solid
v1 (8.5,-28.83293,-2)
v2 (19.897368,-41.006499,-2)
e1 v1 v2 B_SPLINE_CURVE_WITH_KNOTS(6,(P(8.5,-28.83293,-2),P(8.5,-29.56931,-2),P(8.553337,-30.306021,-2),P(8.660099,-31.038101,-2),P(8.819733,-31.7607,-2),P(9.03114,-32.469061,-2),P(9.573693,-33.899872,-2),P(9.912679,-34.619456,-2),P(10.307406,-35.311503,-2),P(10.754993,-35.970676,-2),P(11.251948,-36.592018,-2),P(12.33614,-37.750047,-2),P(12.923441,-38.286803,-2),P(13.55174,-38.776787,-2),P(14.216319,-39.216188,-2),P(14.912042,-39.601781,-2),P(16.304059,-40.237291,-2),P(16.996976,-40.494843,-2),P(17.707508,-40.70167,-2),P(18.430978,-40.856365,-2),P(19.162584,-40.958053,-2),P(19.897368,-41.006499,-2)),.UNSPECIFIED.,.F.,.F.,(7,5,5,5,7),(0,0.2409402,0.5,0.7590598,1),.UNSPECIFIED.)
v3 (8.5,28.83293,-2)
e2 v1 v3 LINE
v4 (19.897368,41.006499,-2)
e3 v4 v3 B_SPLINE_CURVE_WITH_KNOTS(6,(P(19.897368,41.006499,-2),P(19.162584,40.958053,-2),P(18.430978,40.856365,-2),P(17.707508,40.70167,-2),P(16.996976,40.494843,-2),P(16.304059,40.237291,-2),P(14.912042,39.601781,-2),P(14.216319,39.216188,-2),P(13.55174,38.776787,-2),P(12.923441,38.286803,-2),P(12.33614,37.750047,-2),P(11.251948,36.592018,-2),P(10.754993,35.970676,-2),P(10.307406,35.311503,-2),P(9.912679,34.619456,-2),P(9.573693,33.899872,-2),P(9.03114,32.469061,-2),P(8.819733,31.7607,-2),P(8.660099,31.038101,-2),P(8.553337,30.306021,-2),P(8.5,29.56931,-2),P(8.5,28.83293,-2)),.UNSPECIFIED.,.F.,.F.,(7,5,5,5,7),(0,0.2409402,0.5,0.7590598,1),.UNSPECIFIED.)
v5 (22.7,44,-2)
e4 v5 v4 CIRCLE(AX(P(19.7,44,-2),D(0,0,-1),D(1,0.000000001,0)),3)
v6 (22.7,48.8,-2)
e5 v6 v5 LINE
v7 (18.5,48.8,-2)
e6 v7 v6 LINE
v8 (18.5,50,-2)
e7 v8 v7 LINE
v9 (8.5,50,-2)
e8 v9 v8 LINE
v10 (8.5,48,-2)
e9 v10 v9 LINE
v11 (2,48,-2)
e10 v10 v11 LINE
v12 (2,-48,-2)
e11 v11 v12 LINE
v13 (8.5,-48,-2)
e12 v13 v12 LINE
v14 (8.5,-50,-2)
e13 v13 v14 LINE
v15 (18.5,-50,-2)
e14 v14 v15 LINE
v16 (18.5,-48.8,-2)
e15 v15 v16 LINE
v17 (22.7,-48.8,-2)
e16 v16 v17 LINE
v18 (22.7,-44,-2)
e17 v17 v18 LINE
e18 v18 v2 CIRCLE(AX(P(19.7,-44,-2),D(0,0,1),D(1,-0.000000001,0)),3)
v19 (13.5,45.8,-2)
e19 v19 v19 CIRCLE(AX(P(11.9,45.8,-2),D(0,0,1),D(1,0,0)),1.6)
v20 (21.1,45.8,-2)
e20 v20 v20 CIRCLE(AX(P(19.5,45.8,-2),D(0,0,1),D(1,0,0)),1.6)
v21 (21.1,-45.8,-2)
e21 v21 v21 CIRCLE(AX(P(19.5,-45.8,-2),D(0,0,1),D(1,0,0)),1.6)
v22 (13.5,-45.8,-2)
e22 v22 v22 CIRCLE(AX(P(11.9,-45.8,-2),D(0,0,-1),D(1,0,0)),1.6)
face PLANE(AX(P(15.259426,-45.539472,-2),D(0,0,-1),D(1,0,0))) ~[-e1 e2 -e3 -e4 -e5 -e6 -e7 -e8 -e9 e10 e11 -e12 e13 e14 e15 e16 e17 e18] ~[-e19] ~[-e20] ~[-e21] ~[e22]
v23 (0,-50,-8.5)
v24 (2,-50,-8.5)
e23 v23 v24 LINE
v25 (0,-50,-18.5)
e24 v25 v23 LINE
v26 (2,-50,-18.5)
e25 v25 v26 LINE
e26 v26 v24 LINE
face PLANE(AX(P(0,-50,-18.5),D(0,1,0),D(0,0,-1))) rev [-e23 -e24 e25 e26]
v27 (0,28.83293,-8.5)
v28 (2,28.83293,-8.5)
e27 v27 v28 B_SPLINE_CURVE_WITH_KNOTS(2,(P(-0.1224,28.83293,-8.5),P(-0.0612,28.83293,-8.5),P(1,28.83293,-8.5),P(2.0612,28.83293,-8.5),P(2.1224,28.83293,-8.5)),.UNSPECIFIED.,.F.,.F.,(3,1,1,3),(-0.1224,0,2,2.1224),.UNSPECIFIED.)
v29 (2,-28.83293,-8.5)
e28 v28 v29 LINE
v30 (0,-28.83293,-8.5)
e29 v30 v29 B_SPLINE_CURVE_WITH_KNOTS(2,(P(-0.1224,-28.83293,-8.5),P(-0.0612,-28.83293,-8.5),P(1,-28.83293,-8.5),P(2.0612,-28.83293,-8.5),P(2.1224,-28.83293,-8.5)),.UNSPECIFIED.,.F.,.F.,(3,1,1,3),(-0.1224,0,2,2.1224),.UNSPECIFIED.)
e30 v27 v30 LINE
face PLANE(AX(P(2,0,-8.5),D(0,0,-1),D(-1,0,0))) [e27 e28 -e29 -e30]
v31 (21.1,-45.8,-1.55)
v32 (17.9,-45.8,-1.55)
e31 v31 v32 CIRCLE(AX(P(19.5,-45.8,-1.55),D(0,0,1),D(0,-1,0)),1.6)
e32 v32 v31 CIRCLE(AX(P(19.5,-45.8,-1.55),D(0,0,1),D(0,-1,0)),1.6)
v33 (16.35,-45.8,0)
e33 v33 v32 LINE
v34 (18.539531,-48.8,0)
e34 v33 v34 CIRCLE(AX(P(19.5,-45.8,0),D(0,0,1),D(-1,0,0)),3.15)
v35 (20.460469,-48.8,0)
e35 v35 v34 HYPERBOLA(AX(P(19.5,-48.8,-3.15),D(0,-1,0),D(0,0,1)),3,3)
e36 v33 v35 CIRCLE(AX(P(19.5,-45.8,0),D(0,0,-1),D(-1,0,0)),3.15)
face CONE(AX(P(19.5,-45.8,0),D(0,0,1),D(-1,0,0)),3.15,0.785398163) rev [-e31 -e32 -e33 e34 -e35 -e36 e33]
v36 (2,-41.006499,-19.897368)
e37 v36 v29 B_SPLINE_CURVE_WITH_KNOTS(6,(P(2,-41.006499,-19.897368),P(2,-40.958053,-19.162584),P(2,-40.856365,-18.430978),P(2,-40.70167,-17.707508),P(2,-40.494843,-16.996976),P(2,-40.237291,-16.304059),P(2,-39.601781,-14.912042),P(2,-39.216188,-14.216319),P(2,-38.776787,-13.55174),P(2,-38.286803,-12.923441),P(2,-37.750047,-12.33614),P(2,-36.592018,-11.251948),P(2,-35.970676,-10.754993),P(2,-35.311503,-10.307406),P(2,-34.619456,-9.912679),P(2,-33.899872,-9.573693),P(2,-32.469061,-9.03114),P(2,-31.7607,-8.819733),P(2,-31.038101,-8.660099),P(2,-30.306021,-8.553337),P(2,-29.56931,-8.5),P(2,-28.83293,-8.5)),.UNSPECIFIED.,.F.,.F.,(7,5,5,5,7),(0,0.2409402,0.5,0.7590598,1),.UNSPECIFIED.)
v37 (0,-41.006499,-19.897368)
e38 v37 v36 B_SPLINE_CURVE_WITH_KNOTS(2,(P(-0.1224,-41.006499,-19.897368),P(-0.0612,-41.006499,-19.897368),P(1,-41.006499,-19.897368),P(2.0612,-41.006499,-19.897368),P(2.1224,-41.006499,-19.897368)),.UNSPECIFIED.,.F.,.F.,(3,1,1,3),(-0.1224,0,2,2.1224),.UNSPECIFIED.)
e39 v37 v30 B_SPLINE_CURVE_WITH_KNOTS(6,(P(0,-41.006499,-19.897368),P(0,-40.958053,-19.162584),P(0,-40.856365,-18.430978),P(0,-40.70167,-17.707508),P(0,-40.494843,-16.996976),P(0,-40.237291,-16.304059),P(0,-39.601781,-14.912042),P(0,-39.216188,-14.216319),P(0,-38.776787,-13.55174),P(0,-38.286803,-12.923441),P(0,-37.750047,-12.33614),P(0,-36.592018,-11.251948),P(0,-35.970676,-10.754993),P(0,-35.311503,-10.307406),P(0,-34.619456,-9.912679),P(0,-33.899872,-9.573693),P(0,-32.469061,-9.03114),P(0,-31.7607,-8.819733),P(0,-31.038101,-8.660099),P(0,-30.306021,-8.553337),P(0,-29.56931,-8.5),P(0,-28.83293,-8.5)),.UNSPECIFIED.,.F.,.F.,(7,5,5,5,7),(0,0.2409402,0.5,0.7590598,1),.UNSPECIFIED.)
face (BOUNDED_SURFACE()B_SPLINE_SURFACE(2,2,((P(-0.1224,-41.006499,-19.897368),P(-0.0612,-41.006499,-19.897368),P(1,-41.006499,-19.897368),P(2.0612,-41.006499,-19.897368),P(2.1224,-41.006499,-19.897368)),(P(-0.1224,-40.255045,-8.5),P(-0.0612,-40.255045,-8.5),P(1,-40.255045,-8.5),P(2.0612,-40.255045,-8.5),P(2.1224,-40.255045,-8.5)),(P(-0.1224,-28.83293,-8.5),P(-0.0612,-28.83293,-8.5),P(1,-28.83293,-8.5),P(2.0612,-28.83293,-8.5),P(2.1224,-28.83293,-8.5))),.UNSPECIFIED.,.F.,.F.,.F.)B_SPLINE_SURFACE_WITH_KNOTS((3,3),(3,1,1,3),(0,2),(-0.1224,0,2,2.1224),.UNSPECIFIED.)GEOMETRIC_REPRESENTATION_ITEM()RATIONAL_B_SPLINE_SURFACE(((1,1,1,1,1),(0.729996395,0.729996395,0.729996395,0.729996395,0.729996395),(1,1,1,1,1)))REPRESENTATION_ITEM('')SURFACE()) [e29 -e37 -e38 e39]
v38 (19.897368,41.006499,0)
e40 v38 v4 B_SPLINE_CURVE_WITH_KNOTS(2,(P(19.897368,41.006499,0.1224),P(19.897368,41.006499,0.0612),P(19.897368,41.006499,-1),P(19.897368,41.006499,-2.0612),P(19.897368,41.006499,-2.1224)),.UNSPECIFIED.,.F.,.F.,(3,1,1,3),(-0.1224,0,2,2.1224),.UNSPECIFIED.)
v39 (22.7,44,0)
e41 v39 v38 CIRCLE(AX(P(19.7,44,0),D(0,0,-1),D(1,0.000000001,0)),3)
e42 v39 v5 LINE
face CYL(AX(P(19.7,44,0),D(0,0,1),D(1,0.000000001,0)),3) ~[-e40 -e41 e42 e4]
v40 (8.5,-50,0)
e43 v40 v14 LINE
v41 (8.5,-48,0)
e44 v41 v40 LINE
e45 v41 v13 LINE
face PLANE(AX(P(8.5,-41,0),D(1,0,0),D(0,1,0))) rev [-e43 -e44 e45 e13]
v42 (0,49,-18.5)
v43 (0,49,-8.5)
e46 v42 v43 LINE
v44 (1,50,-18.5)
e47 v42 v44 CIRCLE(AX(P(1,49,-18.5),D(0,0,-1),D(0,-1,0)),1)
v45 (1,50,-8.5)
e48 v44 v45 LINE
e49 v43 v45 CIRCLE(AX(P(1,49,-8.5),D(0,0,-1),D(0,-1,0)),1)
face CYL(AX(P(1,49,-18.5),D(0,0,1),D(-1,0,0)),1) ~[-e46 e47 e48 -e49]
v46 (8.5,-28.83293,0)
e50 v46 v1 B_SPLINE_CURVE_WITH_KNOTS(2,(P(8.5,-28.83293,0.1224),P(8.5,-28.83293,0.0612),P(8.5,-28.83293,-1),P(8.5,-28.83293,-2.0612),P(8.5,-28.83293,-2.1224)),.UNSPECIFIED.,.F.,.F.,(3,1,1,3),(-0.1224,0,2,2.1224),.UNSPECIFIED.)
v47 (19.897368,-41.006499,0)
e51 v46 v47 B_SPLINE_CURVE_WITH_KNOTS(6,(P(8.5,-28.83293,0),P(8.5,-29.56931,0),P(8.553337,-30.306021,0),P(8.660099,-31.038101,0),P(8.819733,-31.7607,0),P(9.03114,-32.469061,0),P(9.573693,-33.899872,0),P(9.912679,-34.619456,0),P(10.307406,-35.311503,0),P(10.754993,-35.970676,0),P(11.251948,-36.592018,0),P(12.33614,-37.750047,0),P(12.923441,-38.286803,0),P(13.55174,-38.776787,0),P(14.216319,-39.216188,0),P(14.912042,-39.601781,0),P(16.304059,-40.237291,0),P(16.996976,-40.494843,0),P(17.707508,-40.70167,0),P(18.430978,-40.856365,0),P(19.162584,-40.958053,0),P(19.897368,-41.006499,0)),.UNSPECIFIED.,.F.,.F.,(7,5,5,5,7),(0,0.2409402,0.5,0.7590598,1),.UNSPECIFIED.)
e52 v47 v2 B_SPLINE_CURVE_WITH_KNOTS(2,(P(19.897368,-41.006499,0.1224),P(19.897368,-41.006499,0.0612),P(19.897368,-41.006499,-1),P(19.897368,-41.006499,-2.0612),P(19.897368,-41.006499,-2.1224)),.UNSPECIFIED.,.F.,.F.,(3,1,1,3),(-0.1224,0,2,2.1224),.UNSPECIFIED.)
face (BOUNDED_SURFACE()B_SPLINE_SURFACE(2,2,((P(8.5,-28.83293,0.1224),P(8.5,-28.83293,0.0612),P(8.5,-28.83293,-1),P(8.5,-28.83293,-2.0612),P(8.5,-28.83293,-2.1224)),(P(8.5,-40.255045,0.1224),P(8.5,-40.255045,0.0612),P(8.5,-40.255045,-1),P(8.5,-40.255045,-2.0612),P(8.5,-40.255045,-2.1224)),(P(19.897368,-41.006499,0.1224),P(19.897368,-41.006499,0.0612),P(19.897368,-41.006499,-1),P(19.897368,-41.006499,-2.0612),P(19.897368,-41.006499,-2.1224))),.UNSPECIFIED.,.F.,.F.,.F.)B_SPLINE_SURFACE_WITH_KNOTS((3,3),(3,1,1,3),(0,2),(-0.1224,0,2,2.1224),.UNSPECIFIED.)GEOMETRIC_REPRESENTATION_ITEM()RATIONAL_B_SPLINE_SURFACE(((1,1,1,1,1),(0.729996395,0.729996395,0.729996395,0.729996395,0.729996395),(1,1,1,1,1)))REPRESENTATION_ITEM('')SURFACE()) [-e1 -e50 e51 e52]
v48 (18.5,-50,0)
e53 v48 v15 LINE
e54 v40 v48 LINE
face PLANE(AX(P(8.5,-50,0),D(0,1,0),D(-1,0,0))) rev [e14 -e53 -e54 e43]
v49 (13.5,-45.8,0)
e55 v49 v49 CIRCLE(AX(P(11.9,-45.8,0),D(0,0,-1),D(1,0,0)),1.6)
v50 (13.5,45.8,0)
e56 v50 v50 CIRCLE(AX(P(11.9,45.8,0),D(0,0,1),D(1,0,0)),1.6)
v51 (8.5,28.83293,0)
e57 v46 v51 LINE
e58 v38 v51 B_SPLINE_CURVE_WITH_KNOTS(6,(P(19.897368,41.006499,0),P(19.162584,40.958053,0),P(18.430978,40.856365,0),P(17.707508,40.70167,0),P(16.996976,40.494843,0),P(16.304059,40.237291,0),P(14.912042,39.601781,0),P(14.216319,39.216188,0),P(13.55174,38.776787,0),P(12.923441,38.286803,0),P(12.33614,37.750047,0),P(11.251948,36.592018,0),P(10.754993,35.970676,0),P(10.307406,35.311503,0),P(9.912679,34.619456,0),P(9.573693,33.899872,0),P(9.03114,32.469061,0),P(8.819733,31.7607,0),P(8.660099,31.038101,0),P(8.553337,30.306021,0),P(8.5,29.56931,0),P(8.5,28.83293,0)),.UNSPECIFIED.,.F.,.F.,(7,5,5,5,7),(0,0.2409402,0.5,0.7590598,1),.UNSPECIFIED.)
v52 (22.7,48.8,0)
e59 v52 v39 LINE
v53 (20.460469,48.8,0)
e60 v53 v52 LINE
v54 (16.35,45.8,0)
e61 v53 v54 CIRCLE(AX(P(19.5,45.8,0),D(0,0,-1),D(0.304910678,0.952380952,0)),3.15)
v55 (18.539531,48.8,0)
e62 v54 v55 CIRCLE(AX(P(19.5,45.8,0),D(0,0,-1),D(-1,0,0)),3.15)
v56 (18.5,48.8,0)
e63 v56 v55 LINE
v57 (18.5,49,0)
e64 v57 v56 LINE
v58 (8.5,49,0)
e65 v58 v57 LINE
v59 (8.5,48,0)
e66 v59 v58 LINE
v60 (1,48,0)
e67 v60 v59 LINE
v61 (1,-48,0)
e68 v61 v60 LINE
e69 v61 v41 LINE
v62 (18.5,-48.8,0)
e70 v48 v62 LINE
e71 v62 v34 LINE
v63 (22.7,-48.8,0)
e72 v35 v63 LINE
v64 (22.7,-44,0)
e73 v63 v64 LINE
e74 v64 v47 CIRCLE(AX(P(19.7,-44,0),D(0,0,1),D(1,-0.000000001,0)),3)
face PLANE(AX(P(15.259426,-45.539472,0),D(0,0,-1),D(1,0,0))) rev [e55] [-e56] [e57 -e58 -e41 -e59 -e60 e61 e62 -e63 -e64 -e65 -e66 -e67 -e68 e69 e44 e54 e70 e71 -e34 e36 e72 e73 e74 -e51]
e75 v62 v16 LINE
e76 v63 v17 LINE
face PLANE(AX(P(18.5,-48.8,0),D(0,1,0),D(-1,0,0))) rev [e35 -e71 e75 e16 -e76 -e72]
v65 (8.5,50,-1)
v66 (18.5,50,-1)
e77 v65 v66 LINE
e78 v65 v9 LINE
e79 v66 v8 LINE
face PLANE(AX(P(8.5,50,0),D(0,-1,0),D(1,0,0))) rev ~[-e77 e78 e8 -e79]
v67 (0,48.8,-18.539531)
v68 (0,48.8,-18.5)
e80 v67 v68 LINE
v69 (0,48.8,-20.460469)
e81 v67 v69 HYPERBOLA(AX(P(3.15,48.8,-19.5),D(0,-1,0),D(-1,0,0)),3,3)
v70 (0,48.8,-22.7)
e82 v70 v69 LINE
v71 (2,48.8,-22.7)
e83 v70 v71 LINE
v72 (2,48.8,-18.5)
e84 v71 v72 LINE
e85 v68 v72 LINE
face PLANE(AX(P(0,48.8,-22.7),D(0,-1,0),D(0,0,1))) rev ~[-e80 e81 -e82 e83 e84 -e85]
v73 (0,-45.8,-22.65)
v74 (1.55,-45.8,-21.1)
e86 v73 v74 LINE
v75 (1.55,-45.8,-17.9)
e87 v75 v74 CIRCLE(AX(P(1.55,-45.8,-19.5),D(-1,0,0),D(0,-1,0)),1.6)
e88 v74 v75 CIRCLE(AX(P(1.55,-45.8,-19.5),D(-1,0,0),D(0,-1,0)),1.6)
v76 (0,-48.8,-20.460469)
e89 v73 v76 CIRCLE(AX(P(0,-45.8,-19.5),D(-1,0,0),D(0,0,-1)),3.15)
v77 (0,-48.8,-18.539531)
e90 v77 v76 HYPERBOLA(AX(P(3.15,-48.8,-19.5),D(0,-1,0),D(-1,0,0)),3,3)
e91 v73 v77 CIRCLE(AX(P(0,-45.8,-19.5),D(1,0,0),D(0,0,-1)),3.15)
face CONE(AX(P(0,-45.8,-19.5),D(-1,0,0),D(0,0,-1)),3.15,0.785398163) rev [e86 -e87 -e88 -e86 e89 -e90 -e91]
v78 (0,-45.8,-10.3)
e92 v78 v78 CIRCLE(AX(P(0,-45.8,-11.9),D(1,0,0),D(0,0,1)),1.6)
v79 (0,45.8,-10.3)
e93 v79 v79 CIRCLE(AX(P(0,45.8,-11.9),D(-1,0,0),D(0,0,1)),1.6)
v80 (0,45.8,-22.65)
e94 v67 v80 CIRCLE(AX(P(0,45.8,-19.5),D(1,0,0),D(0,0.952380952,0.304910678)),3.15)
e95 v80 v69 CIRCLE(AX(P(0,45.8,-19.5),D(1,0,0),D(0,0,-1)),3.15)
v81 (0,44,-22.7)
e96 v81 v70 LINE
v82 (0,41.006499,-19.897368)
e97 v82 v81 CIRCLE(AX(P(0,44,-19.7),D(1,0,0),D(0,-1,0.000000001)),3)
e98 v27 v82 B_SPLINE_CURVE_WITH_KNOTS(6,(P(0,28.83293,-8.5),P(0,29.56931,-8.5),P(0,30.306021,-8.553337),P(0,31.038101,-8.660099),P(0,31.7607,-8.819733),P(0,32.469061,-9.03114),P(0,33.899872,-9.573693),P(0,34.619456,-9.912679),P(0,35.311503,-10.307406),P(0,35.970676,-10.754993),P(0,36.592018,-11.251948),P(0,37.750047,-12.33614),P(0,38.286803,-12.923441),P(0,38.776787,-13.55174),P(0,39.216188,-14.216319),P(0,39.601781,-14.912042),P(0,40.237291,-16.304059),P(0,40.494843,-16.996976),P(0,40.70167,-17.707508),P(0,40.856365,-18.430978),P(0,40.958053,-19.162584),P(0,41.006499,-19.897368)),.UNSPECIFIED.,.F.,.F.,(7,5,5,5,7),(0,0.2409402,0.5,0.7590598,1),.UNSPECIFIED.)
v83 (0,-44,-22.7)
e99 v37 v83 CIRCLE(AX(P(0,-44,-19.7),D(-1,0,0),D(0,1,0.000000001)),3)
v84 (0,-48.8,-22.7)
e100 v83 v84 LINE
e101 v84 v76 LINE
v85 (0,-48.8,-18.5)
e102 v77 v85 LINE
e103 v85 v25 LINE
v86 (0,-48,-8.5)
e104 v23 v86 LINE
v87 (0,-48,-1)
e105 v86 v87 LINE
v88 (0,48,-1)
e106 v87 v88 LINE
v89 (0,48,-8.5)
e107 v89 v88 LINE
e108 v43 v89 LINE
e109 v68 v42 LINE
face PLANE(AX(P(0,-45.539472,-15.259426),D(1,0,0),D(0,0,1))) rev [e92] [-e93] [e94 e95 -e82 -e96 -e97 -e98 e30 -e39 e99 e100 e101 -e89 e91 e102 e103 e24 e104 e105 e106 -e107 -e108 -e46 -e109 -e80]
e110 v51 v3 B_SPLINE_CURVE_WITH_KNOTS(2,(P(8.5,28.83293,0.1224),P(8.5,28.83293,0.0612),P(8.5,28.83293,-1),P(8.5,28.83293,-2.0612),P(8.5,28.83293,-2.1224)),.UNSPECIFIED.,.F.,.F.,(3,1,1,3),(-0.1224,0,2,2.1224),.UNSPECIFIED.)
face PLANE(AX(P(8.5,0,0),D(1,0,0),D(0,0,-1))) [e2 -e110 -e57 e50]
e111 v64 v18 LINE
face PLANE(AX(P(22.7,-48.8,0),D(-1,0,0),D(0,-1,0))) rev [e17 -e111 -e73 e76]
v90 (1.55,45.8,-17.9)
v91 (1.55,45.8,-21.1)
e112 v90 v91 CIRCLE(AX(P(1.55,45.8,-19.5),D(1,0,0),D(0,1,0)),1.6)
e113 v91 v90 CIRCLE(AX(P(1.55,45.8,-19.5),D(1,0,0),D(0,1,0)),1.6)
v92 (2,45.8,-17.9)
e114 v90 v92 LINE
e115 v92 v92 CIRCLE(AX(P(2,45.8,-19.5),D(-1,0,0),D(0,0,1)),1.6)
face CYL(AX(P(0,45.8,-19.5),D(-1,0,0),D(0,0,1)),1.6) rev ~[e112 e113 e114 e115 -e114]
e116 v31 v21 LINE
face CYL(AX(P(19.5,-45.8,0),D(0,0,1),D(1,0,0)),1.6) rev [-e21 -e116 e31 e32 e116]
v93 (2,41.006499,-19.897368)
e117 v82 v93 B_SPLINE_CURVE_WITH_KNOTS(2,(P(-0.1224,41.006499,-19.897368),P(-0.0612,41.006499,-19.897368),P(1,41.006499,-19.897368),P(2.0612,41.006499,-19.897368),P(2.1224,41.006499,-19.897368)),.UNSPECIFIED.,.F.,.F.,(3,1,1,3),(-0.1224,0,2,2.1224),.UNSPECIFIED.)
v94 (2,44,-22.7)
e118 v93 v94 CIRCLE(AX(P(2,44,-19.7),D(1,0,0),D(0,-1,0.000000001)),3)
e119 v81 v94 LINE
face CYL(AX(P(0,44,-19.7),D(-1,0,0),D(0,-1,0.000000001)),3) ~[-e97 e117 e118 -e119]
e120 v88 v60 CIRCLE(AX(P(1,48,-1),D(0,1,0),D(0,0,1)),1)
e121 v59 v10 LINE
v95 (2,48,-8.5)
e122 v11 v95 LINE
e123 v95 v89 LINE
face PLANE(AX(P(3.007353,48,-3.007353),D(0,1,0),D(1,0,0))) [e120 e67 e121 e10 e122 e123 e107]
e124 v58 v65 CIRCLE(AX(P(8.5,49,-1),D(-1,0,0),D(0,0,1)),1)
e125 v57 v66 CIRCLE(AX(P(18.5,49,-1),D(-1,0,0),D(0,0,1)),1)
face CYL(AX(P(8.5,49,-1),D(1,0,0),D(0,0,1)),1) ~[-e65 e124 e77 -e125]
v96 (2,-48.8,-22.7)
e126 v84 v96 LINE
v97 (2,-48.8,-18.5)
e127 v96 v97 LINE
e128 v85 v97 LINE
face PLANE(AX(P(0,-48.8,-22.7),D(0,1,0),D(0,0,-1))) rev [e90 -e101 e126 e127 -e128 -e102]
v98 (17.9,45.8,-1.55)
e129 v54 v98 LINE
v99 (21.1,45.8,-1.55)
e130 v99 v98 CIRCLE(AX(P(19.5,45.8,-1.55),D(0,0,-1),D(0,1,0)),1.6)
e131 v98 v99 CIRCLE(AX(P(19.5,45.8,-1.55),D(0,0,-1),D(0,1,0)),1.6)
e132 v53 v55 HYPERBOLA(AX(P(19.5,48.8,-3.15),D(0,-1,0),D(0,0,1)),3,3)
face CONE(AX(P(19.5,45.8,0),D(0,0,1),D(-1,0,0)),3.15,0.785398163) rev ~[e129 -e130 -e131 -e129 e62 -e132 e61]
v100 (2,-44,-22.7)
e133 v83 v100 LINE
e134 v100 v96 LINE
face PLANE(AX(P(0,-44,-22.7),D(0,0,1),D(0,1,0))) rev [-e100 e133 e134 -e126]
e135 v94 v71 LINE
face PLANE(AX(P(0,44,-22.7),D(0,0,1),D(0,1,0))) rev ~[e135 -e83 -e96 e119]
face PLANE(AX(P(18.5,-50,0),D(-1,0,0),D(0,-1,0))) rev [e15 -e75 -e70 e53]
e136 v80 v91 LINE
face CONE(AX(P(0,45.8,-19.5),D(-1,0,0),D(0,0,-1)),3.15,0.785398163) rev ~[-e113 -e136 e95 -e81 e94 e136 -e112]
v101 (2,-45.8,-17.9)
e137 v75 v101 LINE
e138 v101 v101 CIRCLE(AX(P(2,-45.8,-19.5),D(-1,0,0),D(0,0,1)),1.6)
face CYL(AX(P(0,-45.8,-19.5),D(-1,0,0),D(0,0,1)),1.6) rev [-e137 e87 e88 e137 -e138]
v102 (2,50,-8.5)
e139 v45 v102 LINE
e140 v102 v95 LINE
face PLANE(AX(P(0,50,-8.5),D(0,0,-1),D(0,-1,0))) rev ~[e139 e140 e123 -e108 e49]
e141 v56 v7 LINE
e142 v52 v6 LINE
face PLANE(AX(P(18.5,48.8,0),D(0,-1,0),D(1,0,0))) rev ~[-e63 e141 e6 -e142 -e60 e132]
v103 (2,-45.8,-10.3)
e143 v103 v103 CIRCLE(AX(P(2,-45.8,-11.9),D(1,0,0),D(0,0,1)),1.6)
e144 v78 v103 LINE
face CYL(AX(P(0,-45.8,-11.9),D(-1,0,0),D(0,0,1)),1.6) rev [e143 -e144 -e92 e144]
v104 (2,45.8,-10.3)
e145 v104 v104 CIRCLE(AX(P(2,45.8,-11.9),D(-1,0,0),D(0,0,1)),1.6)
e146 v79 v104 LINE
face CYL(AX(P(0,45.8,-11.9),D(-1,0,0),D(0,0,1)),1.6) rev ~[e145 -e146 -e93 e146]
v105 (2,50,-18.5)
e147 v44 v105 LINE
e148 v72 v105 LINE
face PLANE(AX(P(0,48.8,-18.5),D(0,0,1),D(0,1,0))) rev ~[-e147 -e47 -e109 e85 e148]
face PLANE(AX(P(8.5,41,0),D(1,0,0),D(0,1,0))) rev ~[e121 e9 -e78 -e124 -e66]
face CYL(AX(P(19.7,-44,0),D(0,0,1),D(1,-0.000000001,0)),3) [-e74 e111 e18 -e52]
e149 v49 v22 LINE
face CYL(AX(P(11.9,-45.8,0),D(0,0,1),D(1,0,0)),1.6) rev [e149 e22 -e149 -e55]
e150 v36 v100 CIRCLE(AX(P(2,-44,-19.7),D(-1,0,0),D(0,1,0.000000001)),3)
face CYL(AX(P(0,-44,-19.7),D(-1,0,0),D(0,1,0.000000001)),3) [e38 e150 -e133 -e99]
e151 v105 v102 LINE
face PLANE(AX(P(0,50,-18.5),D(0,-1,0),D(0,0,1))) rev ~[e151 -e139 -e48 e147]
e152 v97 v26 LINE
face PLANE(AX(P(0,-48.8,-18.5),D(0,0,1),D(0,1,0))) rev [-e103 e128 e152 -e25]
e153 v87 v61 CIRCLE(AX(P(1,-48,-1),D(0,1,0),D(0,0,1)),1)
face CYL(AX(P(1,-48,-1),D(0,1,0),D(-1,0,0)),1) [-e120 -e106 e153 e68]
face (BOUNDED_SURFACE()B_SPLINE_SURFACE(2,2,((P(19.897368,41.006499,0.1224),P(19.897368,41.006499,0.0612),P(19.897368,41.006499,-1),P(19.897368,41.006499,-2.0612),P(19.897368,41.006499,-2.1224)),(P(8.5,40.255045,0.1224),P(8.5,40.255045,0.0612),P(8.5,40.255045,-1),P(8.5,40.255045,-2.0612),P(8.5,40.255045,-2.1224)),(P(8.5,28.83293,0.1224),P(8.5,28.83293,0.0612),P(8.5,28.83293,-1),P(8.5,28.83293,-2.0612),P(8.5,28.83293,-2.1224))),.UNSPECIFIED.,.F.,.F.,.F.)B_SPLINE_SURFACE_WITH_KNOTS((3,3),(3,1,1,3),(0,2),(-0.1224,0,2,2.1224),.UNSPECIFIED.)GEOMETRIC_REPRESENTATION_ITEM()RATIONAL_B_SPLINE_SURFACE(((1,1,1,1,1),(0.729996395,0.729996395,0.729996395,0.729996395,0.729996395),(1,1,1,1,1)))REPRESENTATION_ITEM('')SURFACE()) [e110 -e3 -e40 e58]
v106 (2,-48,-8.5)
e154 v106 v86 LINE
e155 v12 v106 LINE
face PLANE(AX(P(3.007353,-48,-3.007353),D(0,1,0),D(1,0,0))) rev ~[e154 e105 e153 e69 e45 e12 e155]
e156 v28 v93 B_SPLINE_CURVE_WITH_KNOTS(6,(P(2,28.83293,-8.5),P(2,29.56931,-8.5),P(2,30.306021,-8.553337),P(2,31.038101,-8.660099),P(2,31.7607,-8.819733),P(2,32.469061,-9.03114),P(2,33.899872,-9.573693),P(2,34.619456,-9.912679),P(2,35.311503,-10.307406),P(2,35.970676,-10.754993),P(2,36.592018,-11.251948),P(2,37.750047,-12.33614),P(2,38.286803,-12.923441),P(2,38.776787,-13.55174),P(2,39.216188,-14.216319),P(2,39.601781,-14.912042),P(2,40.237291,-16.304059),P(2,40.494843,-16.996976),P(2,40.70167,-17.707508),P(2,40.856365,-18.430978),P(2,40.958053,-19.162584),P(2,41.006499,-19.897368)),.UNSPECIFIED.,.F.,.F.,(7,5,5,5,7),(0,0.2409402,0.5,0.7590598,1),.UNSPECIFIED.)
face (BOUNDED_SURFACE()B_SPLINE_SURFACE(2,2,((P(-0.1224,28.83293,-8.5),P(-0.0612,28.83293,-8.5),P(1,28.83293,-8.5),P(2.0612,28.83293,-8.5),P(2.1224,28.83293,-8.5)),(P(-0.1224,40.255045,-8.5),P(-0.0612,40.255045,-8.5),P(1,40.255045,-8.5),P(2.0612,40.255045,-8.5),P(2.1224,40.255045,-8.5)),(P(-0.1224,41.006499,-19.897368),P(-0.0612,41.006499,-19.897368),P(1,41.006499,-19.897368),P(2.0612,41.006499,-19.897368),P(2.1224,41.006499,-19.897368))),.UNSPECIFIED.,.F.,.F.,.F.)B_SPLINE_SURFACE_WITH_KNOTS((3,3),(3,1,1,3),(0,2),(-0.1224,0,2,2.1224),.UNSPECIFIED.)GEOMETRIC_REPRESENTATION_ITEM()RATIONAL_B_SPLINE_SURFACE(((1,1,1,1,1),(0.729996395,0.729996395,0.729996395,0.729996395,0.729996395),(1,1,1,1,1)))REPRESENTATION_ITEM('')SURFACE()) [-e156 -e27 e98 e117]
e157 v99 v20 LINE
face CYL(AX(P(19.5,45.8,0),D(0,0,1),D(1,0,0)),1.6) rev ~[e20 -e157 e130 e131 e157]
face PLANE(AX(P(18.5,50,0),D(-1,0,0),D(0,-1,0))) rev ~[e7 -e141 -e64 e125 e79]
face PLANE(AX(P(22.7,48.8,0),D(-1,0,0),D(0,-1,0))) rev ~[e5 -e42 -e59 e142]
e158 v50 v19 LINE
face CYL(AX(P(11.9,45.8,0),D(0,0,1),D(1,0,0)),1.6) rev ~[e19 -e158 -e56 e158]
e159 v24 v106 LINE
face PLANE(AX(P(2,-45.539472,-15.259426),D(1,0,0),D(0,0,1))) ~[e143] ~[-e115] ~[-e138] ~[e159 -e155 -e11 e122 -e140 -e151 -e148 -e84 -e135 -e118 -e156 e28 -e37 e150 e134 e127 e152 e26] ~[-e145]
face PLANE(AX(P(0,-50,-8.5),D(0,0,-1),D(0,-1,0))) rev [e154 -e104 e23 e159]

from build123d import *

# Parameters (mm, degrees)
BOSS_EXTRUDE3_DEPTH                                 = 48
SKETCH9_R                                           = 1.6
BOSS_EXTRUDE5_DEPTH                                 = 2
SKETCH6_R                                           = 1.6
BOSS_EXTRUDE6_DEPTH                                 = 2
FILLET4_R                                           = 1
FILLET5_R                                           = 12.2
CSK_FOR_M3_COUNTERSUNK_FLAT_HEAD_SCREW1_D           = 3.2
CSK_FOR_M3_COUNTERSUNK_FLAT_HEAD_SCREW1_CSINK_D     = 6.3
CSK_FOR_M3_COUNTERSUNK_FLAT_HEAD_SCREW1_CSINK_ANGLE = 90
CSK_FOR_M3_COUNTERSUNK_FLAT_HEAD_SCREW2_D           = 3.2
CSK_FOR_M3_COUNTERSUNK_FLAT_HEAD_SCREW2_CSINK_D     = 6.3
CSK_FOR_M3_COUNTERSUNK_FLAT_HEAD_SCREW2_CSINK_ANGLE = 90


with BuildPart() as part:
    # Sketch5 → Boss-Extrude3 (new, symmetric)
    with BuildSketch(Plane(origin=(0, 0, 0), x_dir=(1, 0, 0), z_dir=(0, 1, 0))):
        Polygon((0, 8.5), (0, 0), (8.5, 0), (8.5, 2), (2, 2), (2, 8.5), align=None)
    extrude(amount=BOSS_EXTRUDE3_DEPTH, both=True)

    # Sketch9 → Boss-Extrude5 (add)
    with BuildSketch(Plane.XY):
        with BuildLine():
            Line((8.5, 50), (18.5, 50))
            Line((18.5, 50), (18.5, 48.8))
            Line((18.5, 48.8), (22.7, 48.8))
            Line((22.7, 48.8), (22.7, 44))
            ThreePointArc((22.7, 44), (21.821320344, 41.878679656), (19.7, 41))
            Line((19.7, 41), (8.5, 41))
            Line((8.5, 41), (8.5, 50))
        make_face()
        with Locations((11.9, 45.8)):
            Circle(SKETCH9_R, mode=Mode.SUBTRACT)
        with Locations((19.5, 45.8)):
            Circle(SKETCH9_R, mode=Mode.SUBTRACT)
    boss_extrude5 = extrude(amount=-BOSS_EXTRUDE5_DEPTH)

    # Sketch6 → Boss-Extrude6 (add)
    with BuildSketch(Plane.ZY):
        with BuildLine():
            Line((-8.5, 41), (-19.7, 41))
            ThreePointArc((-19.7, 41), (-21.821320344, 41.878679656), (-22.7, 44))
            Line((-22.7, 44), (-22.7, 48.8))
            Line((-22.7, 48.8), (-18.5, 48.8))
            Line((-18.5, 48.8), (-18.5, 50))
            Line((-18.5, 50), (-8.5, 50))
            Line((-8.5, 50), (-8.5, 41))
        make_face()
        with Locations((-11.9, 45.8)):
            Circle(SKETCH6_R, mode=Mode.SUBTRACT)
        with Locations((-19.5, 45.8)):
            Circle(SKETCH6_R, mode=Mode.SUBTRACT)
    boss_extrude6 = extrude(amount=-BOSS_EXTRUDE6_DEPTH)

    # Mirror1: Boss-Extrude5, Boss-Extrude6 across plane
    add(boss_extrude5.mirror(Plane.ZX))
    add(boss_extrude6.mirror(Plane.ZX))

    # Fillet4
    fillet4_edges = [part.edges().sort_by_distance(p)[0] for p in [
        (0, 0, 0),
        (13.5, 50, 0),
        (0, 50, -13.5),
    ]]
    fillet(fillet4_edges, radius=FILLET4_R)

    # Fillet5
    fillet5_edges = [part.edges().sort_by_distance(p)[0] for p in [
        (8.5, -41, -1),
        (8.5, 41, -1),
        (1, 41, -8.5),
        (1, -41, -8.5),
    ]]
    fillet(fillet5_edges, radius=FILLET5_R)

    # CSK for M3 Countersunk Flat Head Screw1 (through all)
    with Locations(Plane.ZY):
        with Locations((-19.5, 45.8)):
            csk_for_m3_countersunk_flat_head_screw1 = CounterSinkHole(CSK_FOR_M3_COUNTERSUNK_FLAT_HEAD_SCREW1_D / 2, CSK_FOR_M3_COUNTERSUNK_FLAT_HEAD_SCREW1_CSINK_D / 2, counter_sink_angle=CSK_FOR_M3_COUNTERSUNK_FLAT_HEAD_SCREW1_CSINK_ANGLE)

    # CSK for M3 Countersunk Flat Head Screw2 (through all)
    with Locations(Plane.XY):
        with Locations((19.5, 45.8)):
            csk_for_m3_countersunk_flat_head_screw2 = CounterSinkHole(CSK_FOR_M3_COUNTERSUNK_FLAT_HEAD_SCREW2_D / 2, CSK_FOR_M3_COUNTERSUNK_FLAT_HEAD_SCREW2_CSINK_D / 2, counter_sink_angle=CSK_FOR_M3_COUNTERSUNK_FLAT_HEAD_SCREW2_CSINK_ANGLE)

    # Mirror2: CSK for M3 Countersunk Flat Head Screw1, CSK for M3 Countersunk Flat Head Screw2 across plane
    add(csk_for_m3_countersunk_flat_head_screw1.mirror(Plane.ZX), mode=Mode.SUBTRACT)
    add(csk_for_m3_countersunk_flat_head_screw2.mirror(Plane.ZX), mode=Mode.SUBTRACT)


solid = part.part
